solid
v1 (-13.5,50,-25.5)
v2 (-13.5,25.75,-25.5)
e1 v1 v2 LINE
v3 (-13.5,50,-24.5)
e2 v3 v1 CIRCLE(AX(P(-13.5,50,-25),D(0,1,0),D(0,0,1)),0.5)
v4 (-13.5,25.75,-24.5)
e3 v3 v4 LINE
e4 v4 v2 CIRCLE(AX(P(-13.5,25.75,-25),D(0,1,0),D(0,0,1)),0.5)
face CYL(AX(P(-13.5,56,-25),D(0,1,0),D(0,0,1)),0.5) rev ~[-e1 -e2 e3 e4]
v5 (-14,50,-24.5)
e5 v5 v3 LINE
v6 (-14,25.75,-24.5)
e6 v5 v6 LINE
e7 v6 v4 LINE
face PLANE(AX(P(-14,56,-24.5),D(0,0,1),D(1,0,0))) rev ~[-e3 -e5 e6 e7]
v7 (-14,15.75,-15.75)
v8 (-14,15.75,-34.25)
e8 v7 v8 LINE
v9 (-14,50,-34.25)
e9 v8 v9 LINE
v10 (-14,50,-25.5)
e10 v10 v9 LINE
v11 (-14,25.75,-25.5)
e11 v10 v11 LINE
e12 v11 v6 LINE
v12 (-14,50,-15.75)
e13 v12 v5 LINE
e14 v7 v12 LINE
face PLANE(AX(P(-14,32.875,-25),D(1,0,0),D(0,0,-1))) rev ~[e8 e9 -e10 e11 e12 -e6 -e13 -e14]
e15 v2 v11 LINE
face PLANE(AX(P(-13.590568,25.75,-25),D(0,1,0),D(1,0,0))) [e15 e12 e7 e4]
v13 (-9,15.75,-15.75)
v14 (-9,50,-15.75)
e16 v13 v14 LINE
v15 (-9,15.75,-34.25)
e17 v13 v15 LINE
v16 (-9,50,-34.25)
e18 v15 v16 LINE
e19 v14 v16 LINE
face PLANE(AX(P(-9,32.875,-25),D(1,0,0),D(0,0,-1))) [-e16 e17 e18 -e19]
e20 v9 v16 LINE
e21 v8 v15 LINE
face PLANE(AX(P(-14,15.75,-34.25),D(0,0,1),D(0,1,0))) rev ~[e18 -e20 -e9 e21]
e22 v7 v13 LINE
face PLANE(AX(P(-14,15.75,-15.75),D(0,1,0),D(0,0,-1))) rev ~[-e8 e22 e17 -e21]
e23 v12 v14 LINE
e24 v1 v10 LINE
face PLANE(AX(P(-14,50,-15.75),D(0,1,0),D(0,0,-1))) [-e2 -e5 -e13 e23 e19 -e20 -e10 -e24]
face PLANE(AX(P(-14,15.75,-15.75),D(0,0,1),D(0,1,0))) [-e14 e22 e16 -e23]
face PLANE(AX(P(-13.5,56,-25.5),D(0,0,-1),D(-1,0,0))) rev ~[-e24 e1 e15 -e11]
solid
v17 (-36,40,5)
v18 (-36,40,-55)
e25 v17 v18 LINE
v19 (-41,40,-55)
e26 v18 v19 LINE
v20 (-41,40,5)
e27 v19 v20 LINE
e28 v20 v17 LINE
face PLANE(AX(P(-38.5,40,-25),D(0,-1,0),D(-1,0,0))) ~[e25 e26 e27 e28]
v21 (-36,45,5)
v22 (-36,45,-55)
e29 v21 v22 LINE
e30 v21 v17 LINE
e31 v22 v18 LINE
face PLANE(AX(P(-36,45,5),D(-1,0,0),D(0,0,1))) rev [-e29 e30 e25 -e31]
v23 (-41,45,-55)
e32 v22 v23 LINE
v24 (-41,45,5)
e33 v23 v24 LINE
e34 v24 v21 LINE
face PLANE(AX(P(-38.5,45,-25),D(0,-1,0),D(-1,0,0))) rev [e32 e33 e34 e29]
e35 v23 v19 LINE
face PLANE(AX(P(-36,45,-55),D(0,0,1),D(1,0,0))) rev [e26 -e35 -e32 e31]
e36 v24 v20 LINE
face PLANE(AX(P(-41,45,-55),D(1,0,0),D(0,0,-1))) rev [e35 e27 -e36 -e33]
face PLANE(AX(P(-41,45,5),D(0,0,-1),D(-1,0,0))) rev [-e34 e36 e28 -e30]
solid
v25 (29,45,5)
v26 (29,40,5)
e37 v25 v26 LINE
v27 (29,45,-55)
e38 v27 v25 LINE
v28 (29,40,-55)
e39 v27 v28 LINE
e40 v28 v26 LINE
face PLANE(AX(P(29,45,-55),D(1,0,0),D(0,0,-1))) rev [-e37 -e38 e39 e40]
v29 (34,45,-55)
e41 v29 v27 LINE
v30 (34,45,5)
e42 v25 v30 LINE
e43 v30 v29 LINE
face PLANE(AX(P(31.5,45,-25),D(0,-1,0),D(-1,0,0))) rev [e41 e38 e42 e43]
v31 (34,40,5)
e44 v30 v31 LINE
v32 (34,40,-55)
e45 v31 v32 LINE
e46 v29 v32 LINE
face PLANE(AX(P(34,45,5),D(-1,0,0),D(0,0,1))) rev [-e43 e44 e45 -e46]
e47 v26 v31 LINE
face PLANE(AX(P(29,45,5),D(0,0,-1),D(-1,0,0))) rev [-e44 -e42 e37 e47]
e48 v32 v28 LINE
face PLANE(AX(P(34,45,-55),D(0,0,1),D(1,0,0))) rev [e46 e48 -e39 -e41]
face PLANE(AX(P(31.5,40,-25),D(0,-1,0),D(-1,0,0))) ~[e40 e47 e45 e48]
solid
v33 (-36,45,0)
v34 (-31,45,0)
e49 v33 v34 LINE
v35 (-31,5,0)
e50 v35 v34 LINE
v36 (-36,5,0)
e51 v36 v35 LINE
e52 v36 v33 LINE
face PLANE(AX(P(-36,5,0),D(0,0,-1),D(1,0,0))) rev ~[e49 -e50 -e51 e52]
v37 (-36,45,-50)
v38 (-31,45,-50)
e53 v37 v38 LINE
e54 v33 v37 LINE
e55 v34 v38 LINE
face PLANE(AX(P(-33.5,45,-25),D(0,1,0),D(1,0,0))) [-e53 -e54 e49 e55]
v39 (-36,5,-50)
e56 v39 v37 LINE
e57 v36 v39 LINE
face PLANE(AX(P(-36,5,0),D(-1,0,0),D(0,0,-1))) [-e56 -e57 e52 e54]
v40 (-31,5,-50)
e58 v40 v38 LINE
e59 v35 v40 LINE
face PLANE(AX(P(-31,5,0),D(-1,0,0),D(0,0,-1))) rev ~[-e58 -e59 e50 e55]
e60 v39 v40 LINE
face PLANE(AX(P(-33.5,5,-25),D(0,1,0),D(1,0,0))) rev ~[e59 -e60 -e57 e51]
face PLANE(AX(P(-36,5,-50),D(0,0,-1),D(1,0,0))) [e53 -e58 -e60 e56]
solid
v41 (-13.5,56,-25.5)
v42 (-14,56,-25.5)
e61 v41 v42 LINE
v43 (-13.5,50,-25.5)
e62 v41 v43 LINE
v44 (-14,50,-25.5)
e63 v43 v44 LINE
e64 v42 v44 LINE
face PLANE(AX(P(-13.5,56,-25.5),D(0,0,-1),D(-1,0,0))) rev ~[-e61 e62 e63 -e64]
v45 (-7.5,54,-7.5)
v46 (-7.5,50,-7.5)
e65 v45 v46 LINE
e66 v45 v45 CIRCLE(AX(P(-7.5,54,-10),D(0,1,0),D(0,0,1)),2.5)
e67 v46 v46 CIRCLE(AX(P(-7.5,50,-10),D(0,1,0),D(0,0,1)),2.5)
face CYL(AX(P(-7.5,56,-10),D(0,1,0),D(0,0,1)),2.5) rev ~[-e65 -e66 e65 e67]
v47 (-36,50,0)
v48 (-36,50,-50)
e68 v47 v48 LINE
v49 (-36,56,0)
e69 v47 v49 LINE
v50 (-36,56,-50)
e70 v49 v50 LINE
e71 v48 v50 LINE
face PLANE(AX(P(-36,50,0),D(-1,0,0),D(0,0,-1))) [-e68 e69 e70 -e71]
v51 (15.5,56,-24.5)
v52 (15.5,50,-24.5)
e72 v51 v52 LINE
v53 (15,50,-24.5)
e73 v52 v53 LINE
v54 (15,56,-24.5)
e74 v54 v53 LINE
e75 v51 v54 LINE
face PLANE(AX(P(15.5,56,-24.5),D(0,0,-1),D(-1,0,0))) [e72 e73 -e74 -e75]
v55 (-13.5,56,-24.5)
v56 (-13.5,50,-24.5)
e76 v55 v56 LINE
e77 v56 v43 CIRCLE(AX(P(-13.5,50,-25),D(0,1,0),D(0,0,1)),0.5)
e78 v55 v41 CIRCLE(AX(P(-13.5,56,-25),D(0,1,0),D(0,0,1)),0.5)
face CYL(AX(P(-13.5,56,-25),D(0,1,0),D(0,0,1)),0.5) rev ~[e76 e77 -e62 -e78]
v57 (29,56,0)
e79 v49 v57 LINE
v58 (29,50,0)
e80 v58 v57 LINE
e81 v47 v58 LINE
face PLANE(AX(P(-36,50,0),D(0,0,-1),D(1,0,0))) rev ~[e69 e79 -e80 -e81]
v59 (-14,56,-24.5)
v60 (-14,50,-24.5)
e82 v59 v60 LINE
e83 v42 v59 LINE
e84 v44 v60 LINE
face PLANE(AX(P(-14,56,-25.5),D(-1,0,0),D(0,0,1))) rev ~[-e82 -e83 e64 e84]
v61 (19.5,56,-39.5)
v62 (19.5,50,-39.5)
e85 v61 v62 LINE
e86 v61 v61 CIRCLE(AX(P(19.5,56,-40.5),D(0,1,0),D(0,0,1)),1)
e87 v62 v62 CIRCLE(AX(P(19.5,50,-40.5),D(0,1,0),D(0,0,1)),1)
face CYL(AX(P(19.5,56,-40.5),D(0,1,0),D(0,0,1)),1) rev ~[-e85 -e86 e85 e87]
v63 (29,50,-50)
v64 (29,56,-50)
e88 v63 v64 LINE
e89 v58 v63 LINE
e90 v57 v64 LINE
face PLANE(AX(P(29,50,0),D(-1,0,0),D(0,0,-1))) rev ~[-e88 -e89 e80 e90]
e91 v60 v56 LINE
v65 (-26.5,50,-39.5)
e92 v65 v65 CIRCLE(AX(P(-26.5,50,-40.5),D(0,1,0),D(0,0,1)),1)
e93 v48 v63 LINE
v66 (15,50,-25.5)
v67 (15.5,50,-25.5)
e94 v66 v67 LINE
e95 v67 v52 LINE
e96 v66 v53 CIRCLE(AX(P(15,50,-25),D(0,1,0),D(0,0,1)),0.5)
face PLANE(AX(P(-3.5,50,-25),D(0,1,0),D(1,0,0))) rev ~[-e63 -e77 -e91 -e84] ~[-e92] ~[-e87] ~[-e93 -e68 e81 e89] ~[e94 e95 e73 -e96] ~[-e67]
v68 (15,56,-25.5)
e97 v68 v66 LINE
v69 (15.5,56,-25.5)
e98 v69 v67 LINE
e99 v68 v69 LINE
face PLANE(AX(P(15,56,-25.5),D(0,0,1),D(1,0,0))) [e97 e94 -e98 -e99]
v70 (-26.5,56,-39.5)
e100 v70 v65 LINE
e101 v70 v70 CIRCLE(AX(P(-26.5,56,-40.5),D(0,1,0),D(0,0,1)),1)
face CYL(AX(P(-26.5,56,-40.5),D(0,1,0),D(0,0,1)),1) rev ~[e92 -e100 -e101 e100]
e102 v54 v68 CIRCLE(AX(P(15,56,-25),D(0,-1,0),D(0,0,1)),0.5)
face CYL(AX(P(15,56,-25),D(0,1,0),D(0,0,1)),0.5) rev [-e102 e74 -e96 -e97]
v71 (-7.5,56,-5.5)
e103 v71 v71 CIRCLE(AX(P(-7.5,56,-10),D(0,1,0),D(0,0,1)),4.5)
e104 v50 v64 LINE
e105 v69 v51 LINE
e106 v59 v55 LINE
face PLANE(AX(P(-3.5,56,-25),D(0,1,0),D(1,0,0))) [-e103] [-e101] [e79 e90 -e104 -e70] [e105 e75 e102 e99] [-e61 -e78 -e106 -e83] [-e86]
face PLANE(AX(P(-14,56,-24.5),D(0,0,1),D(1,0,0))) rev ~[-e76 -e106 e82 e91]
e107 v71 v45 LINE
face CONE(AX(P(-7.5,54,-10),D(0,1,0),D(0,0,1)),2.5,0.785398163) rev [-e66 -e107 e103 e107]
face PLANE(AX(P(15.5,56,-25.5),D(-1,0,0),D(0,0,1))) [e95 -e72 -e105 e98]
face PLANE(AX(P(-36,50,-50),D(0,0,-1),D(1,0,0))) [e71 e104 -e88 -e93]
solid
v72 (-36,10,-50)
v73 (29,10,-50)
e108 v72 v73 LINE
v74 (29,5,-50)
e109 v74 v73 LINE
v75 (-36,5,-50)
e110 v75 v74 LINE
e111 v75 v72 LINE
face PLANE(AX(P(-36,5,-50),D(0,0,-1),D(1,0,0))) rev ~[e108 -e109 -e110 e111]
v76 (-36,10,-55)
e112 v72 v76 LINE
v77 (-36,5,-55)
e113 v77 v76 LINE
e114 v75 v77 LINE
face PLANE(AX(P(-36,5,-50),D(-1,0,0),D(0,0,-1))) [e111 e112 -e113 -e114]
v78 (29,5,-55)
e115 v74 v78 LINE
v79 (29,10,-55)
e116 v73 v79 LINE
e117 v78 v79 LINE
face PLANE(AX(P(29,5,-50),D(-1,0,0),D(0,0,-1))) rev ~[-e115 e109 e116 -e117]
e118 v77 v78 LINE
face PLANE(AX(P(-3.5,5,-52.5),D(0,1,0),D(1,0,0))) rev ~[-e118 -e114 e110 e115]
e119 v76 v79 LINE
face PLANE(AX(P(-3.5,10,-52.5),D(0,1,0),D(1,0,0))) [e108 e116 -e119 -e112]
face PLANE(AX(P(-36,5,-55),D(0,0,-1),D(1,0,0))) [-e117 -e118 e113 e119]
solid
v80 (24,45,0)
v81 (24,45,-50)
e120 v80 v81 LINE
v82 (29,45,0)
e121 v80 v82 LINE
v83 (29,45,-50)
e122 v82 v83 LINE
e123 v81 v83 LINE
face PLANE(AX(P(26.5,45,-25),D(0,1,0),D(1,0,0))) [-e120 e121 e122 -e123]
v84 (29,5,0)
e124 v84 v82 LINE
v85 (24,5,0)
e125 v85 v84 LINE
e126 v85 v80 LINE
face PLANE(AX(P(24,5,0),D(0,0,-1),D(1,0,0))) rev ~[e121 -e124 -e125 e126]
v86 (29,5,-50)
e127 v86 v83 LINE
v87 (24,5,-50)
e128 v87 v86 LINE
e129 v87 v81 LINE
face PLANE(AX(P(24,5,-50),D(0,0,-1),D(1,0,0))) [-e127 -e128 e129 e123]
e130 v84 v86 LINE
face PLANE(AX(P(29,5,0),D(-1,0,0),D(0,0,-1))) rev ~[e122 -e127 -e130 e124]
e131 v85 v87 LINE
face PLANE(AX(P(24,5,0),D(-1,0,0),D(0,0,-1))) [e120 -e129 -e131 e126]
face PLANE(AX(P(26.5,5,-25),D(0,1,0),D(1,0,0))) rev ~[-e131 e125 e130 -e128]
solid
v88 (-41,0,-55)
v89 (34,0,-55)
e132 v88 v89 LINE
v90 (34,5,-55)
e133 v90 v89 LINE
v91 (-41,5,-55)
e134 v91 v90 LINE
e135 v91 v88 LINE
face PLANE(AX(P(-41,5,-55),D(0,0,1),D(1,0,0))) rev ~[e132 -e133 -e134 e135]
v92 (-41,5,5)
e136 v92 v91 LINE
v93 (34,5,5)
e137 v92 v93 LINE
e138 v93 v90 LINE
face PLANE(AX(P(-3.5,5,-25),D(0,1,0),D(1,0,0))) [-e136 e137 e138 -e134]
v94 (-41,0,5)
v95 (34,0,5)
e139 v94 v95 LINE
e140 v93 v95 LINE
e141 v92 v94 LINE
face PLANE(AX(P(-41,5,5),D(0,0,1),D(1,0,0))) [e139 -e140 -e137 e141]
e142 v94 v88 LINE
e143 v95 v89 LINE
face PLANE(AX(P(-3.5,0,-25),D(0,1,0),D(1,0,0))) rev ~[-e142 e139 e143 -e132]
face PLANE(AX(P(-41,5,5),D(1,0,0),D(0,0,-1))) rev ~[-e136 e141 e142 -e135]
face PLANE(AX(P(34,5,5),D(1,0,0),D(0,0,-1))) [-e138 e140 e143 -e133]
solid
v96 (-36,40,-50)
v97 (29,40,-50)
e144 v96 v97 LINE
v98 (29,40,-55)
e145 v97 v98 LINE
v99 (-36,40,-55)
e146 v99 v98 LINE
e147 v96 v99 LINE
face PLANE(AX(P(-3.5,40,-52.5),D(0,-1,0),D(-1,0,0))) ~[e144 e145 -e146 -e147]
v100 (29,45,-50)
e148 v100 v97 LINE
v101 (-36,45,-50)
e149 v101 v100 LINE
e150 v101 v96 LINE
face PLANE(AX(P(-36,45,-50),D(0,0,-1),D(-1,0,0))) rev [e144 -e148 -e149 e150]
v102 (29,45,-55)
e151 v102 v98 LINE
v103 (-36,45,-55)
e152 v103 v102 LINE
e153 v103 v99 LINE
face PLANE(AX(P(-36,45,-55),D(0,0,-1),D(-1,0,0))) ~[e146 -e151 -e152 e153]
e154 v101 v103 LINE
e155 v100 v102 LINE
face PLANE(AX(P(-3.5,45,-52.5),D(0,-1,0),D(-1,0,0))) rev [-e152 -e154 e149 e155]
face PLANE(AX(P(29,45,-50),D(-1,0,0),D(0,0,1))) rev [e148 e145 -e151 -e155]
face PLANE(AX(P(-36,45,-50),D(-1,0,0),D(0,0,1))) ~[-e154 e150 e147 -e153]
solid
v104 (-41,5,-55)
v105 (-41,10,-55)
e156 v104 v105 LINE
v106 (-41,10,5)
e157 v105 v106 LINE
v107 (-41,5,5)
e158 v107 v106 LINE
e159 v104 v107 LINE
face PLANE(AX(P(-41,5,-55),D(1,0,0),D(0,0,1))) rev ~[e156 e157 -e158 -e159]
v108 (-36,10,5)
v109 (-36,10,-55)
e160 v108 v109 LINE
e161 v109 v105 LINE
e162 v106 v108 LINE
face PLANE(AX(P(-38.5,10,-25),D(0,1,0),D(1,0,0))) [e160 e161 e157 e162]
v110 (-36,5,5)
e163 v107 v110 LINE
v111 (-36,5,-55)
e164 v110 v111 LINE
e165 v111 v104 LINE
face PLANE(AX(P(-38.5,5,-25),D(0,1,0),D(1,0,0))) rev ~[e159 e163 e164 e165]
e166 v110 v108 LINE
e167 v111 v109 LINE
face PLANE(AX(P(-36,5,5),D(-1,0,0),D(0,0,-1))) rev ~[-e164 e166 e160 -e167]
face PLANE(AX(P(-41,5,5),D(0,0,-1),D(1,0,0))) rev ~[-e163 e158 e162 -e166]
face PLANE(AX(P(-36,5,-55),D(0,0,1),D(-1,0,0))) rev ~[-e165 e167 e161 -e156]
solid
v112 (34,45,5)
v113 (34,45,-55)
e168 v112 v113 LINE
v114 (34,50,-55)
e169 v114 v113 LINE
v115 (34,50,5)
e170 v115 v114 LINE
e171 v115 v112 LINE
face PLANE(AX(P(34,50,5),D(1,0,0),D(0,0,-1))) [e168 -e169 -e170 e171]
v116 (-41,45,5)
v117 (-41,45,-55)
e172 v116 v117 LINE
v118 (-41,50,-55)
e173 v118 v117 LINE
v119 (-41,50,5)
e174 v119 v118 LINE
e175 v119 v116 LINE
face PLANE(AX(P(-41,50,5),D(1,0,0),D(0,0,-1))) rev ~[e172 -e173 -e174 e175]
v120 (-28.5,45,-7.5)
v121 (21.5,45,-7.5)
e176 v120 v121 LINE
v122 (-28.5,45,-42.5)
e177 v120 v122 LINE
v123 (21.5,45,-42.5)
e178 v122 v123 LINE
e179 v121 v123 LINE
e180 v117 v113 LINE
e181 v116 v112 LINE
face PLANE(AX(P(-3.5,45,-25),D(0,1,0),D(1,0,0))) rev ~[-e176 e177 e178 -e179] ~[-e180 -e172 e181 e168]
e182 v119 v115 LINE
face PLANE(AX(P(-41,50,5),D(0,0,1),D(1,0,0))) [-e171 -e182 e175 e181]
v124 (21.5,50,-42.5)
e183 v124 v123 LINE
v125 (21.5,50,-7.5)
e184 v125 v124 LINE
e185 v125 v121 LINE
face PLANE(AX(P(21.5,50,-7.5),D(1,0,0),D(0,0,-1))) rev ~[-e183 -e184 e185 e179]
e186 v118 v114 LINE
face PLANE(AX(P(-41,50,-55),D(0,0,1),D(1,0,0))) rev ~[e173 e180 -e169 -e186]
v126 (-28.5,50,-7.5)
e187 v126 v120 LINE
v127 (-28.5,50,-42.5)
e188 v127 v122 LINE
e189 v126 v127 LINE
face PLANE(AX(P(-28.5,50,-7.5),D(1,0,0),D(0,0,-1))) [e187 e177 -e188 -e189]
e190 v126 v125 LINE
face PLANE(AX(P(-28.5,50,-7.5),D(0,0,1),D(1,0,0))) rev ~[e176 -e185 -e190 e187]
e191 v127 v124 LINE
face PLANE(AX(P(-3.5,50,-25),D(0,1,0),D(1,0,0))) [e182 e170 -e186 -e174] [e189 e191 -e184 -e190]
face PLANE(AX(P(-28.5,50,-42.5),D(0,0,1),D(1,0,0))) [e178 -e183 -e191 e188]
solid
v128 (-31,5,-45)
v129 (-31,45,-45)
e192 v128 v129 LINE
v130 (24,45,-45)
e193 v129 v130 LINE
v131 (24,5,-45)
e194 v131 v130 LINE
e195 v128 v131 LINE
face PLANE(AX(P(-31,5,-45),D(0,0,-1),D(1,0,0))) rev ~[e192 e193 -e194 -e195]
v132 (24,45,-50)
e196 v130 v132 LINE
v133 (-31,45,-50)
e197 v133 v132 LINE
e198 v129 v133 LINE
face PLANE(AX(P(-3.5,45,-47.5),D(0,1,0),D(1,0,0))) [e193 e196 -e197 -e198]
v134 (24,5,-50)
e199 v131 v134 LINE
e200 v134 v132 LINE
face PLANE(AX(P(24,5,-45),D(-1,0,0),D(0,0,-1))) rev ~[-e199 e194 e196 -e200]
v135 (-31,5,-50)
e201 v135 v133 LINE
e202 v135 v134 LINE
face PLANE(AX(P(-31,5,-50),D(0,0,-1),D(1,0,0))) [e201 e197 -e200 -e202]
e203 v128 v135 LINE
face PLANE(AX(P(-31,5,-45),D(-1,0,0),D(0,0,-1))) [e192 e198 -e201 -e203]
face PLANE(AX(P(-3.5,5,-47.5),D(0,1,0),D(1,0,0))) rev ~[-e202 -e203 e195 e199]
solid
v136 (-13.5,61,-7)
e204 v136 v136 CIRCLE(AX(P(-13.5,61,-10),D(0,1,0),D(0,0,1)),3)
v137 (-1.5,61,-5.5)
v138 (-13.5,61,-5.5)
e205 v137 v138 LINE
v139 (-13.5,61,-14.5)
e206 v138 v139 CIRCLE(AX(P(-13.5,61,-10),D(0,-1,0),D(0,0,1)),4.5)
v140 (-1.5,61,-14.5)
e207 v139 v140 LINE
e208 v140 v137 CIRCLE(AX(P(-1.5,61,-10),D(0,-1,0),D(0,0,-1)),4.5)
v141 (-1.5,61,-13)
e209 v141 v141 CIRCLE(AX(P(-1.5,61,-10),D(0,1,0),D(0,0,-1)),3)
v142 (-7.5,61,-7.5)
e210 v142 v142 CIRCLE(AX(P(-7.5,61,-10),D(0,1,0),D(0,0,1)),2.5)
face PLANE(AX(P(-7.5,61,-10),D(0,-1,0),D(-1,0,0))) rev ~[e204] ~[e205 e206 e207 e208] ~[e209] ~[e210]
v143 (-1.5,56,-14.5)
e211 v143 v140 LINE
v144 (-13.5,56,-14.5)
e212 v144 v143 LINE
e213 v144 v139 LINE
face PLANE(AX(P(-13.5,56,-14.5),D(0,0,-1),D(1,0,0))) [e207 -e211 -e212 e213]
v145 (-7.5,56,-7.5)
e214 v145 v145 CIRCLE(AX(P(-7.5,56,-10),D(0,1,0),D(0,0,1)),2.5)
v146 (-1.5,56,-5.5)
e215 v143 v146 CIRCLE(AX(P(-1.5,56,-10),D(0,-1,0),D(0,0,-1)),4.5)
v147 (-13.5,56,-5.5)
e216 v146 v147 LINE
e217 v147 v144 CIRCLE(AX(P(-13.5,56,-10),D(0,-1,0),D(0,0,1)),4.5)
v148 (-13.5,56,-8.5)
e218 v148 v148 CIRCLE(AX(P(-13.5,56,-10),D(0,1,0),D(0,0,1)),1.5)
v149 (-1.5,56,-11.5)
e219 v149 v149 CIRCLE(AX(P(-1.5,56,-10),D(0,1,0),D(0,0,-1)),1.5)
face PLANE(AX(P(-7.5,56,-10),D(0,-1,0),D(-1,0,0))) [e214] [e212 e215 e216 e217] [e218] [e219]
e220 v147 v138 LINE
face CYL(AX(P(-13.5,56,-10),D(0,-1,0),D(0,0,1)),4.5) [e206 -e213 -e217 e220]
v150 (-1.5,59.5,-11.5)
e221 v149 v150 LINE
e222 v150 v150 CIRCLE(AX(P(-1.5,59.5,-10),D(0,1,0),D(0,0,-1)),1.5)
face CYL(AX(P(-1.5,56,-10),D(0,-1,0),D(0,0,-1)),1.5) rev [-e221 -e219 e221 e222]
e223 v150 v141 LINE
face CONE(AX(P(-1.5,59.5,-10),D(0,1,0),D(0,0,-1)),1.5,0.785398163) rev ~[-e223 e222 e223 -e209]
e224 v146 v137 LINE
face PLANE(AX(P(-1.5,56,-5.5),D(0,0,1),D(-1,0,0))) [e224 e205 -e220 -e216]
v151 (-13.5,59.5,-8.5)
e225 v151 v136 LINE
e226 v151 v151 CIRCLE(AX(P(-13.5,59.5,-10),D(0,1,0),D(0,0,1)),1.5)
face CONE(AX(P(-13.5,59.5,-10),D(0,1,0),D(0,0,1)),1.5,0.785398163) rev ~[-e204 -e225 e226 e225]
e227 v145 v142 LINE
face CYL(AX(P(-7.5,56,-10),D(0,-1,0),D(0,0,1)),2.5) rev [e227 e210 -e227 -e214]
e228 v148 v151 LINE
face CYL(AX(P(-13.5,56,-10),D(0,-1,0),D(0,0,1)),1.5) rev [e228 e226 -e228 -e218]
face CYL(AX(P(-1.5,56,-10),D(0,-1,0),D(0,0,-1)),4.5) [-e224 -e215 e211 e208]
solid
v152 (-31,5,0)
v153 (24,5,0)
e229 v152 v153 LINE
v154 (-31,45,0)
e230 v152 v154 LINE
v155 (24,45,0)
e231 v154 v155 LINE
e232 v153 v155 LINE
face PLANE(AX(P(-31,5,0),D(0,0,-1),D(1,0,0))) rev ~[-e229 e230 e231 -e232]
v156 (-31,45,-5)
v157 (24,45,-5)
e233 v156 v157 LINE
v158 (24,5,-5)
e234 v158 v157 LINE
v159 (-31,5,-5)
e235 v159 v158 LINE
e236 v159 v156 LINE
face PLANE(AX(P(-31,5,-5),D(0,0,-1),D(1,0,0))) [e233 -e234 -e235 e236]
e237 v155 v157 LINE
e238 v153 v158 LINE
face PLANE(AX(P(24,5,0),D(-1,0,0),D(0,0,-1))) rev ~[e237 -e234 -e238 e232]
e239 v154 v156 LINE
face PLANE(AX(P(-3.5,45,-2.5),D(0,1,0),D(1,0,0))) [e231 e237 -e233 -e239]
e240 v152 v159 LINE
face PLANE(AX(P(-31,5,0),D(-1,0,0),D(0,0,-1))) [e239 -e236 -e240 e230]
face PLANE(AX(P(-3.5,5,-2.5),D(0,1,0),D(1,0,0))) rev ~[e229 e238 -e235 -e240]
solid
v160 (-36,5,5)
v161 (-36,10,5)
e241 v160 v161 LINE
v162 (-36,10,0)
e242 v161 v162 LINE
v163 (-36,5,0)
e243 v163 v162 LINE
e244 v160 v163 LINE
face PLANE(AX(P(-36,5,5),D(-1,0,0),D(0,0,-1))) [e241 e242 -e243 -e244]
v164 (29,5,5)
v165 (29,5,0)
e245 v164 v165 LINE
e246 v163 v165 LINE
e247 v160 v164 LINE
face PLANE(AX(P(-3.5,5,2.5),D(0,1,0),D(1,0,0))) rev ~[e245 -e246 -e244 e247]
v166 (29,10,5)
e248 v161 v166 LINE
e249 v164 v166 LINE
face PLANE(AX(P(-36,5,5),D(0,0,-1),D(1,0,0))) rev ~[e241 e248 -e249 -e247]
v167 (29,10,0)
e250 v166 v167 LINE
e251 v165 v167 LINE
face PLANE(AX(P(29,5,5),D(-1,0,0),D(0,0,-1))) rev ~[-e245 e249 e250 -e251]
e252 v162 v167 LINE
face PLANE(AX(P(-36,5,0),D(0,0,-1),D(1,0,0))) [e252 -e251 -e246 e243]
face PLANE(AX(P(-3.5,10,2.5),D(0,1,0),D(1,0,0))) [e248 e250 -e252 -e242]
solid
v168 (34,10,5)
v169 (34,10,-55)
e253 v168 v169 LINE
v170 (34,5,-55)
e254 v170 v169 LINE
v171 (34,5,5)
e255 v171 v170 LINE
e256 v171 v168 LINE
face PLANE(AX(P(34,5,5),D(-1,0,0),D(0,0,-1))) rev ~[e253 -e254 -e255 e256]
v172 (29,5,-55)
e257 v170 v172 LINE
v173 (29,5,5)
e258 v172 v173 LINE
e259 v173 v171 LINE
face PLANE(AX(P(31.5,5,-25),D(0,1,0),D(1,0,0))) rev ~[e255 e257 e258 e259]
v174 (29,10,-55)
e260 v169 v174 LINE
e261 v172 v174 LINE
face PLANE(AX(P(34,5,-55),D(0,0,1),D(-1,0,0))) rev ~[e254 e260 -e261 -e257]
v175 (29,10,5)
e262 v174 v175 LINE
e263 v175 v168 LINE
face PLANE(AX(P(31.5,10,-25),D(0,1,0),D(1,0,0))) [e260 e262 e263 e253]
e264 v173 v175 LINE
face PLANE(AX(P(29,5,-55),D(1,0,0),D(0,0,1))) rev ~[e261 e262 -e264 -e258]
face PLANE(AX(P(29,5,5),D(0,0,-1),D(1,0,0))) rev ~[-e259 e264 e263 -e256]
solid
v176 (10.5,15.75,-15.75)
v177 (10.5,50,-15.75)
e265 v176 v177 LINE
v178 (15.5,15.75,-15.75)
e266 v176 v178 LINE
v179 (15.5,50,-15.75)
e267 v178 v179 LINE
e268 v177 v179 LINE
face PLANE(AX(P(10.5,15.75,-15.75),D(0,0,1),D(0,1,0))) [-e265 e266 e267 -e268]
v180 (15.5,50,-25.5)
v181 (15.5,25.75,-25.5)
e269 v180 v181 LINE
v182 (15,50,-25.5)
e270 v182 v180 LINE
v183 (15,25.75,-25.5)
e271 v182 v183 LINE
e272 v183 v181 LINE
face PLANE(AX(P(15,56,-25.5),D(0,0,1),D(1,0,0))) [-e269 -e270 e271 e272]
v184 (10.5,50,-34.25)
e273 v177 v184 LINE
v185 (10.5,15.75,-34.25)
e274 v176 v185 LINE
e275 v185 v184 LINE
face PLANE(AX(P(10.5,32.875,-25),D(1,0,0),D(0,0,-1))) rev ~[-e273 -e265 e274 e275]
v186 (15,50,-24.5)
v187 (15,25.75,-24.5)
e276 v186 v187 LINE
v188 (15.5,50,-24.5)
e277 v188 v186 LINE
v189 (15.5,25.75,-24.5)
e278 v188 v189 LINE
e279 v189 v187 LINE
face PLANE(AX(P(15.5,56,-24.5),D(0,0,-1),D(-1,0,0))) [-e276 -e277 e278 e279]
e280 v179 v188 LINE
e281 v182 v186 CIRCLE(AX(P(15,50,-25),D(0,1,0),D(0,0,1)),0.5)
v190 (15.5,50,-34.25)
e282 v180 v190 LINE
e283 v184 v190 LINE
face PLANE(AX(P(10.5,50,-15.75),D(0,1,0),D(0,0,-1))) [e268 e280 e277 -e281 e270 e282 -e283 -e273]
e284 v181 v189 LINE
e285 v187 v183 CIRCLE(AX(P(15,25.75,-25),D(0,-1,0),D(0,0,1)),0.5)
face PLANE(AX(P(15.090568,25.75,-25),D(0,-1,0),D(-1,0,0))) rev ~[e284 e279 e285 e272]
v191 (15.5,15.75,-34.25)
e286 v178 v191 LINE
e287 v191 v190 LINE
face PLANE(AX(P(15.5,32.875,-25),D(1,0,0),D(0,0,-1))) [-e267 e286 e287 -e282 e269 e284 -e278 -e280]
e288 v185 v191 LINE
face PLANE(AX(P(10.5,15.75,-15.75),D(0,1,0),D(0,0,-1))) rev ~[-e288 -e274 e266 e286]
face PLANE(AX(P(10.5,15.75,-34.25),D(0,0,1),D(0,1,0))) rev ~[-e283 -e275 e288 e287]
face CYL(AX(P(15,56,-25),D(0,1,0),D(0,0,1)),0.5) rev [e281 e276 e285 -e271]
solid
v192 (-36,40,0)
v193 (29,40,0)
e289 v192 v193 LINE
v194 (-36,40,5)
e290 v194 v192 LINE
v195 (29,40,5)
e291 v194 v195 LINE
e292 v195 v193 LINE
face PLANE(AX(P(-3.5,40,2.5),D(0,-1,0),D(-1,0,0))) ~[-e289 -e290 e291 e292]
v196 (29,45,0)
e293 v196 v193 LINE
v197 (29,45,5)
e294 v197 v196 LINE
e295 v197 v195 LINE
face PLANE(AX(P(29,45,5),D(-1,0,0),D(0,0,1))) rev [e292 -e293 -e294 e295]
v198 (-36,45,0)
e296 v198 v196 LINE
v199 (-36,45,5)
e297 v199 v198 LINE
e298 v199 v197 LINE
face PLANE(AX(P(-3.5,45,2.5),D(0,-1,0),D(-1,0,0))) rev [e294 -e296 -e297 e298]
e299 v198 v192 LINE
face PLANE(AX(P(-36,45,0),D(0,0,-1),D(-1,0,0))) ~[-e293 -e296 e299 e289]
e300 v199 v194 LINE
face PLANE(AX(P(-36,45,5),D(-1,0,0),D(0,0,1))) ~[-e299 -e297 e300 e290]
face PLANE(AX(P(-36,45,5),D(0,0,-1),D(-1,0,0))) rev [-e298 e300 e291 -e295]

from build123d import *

# Parameters (mm, degrees)
SKETCH1_W              = 65
SKETCH1_H              = 50
BOSS_EXTRUDE1_DEPTH    = 5
SKETCH2_W              = 5
SKETCH2_H              = 50
BOSS_EXTRUDE24_DEPTH   = 40
BOSS_EXTRUDE24_2_DEPTH = 40
SKETCH2_6_W            = 55
SKETCH2_6_H            = 5
BOSS_EXTRUDE25_DEPTH   = 40
BOSS_EXTRUDE25_2_DEPTH = 40
SKETCH3_W              = 65
SKETCH3_H              = 50
BOSS_EXTRUDE4_DEPTH    = 5
SKETCH18_W             = 50
SKETCH18_H             = 35
CUT_EXTRUDE3_DEPTH     = 80.3473377
SKETCH17_W             = 65
SKETCH17_H             = 50
BOSS_EXTRUDE8_DEPTH    = 6
SKETCH6_W              = 18.5
SKETCH6_H              = 34.25
BOSS_EXTRUDE6_DEPTH    = 5
SKETCH7_W              = 18.5
SKETCH7_H              = 34.25
BOSS_EXTRUDE7_DEPTH    = 5
SKETCH19_R             = 1
SKETCH19_R_2           = 2.5
CUT_EXTRUDE4_DEPTH     = 30.25
SKETCH31_R             = 2.5
SKETCH31_R_2           = 1.5
BOSS_EXTRUDE18_DEPTH   = 5
CHAMFER1_SIZE          = 2
CHAMFER2_SIZE          = 1.5
SKETCH42_W             = 75
SKETCH42_H             = 60
SKETCH42_W_2           = 65
SKETCH42_H_2           = 50
BOSS_EXTRUDE22_DEPTH   = 5
SKETCH41_4_W           = 75
SKETCH41_4_H           = 60
BOSS_EXTRUDE23_DEPTH   = 5
BOSS_EXTRUDE20_DEPTH   = 5
BOSS_EXTRUDE20_2_DEPTH = 5
SKETCH41_3_W           = 65
SKETCH41_3_H           = 5
BOSS_EXTRUDE21_DEPTH   = 5
BOSS_EXTRUDE21_2_DEPTH = 5


with BuildPart() as part:
    # Sketch1 → Boss-Extrude1 (new body)
    with BuildSketch(Plane(origin=(0, 0, 0), x_dir=(1, 0, 0), z_dir=(0, 1, 0))):
        with Locations((-3.5, 25)):
            Rectangle(SKETCH1_W, SKETCH1_H)
    extrude(amount=BOSS_EXTRUDE1_DEPTH)

    # Sketch41<4> → Boss-Extrude23 (add)
    with BuildSketch(Plane(origin=(0, 5, 0), x_dir=(1, 0, 0), z_dir=(0, 1, 0))):
        with Locations((-3.5, 25)):
            Rectangle(SKETCH41_4_W, SKETCH41_4_H)
    extrude(amount=-BOSS_EXTRUDE23_DEPTH)


with BuildPart() as body_2:
    # Sketch2 → Boss-Extrude24 (new body)
    with BuildSketch(Plane(origin=(0, 5, 0), x_dir=(1, 0, 0), z_dir=(0, 1, 0))):
        with Locations((-33.5, 25)):
            Rectangle(SKETCH2_W, SKETCH2_H)
    extrude(amount=BOSS_EXTRUDE24_DEPTH)


with BuildPart() as body_3:
    # Sketch2 → Boss-Extrude24 2 (new body)
    with BuildSketch(Plane(origin=(0, 5, 0), x_dir=(1, 0, 0), z_dir=(0, 1, 0))):
        with Locations((26.5, 25)):
            Rectangle(SKETCH2_W, SKETCH2_H)
    extrude(amount=BOSS_EXTRUDE24_2_DEPTH)


with BuildPart() as body_4:
    # Sketch2<6> → Boss-Extrude25 (new body)
    with BuildSketch(Plane(origin=(0, 5, 0), x_dir=(1, 0, 0), z_dir=(0, 1, 0))):
        with Locations((-3.5, 47.5)):
            Rectangle(SKETCH2_6_W, SKETCH2_6_H)
    extrude(amount=BOSS_EXTRUDE25_DEPTH)


with BuildPart() as body_5:
    # Sketch2<6> → Boss-Extrude25 2 (new body)
    with BuildSketch(Plane(origin=(0, 5, 0), x_dir=(1, 0, 0), z_dir=(0, 1, 0))):
        with Locations((-3.5, 2.5)):
            Rectangle(SKETCH2_6_W, SKETCH2_6_H)
    extrude(amount=BOSS_EXTRUDE25_2_DEPTH)


with BuildPart() as body_6:
    # Sketch3 → Boss-Extrude4 (new body)
    with BuildSketch(Plane(origin=(0, 45, 0), x_dir=(1, 0, 0), z_dir=(0, 1, 0))):
        with Locations((-3.5, 25)):
            Rectangle(SKETCH3_W, SKETCH3_H)
    extrude(amount=BOSS_EXTRUDE4_DEPTH)

    # Sketch18 → Cut-Extrude3 (cut, through all)
    with BuildSketch(Plane(origin=(0, 50, 0), x_dir=(1, 0, 0), z_dir=(0, 1, 0))):
        with Locations((-3.5, 25)):
            Rectangle(SKETCH18_W, SKETCH18_H)
    extrude(amount=-CUT_EXTRUDE3_DEPTH, mode=Mode.SUBTRACT)

    # Sketch42 → Boss-Extrude22 (add)
    with BuildSketch(Plane(origin=(0, 50, 0), x_dir=(1, 0, 0), z_dir=(0, 1, 0))):
        with Locations((-3.5, 25)):
            Rectangle(SKETCH42_W, SKETCH42_H)
        with Locations((-3.5, 25)):
            Rectangle(SKETCH42_W_2, SKETCH42_H_2, mode=Mode.SUBTRACT)
    extrude(amount=-BOSS_EXTRUDE22_DEPTH)


with BuildPart() as body_7:
    # Sketch17 → Boss-Extrude8 (new body)
    with BuildSketch(Plane(origin=(0, 50, 0), x_dir=(1, 0, 0), z_dir=(0, 1, 0))):
        with Locations((-3.5, 25)):
            Rectangle(SKETCH17_W, SKETCH17_H)
    extrude(amount=BOSS_EXTRUDE8_DEPTH)


with BuildPart() as body_8:
    # Sketch6 → Boss-Extrude6 (new body)
    with BuildSketch(Plane(origin=(-14, 0, 0), x_dir=(0, 0, -1), z_dir=(1, 0, 0))):
        with Locations((25, 32.875)):
            Rectangle(SKETCH6_W, SKETCH6_H)
    extrude(amount=BOSS_EXTRUDE6_DEPTH)


with BuildPart() as body_9:
    # Sketch7 → Boss-Extrude7 (new body)
    with BuildSketch(Plane(origin=(10.5, 0, 0), x_dir=(0, 0, -1), z_dir=(1, 0, 0))):
        with Locations((25, 32.875)):
            Rectangle(SKETCH7_W, SKETCH7_H)
    extrude(amount=BOSS_EXTRUDE7_DEPTH)


with BuildPart() as cut_extrude4_tool:
    # Sketch19 → Cut-Extrude4 (new body)
    with BuildSketch(Plane(origin=(0, 56, 0), x_dir=(1, 0, 0), z_dir=(0, 1, 0))):
        with Locations(Location((-26.5, 40.5, 0), (0, 0, 270))):
            Circle(SKETCH19_R)
        with BuildLine():
            Line((-14, 24.5), (-13.5, 24.5))
            ThreePointArc((-13.5, 24.5), (-13, 25), (-13.5, 25.5))
            Line((-13.5, 25.5), (-14, 25.5))
            Line((-14, 25.5), (-14, 24.5))
        make_face()
        with Locations(Location((-7.5, 10, 0), (0, 0, 270))):
            Circle(SKETCH19_R_2)
        with Locations(Location((19.5, 40.5, 0), (0, 0, 270))):
            Circle(SKETCH19_R)
        with BuildLine():
            ThreePointArc((15, 24.5), (14.5, 25), (15, 25.5))
            Line((15, 25.5), (15.5, 25.5))
            Line((15.5, 25.5), (15.5, 24.5))
            Line((15.5, 24.5), (15, 24.5))
        make_face()
    extrude(amount=-CUT_EXTRUDE4_DEPTH)


with BuildPart() as body_7_1:
    add(body_7.part)

    # Cut-Extrude4: cut by cut_extrude4_tool
    add(cut_extrude4_tool.part, mode=Mode.SUBTRACT)

    # Chamfer1
    chamfer1_edges = [body_7_1.edges().sort_by_distance(p)[0] for p in [
        (-7.5, 56, -12.5),
    ]]
    chamfer(chamfer1_edges, length=CHAMFER1_SIZE)


with BuildPart() as body_8_1:
    add(body_8.part)

    # Cut-Extrude4: cut by cut_extrude4_tool
    add(cut_extrude4_tool.part, mode=Mode.SUBTRACT)


with BuildPart() as body_9_1:
    add(body_9.part)

    # Cut-Extrude4: cut by cut_extrude4_tool
    add(cut_extrude4_tool.part, mode=Mode.SUBTRACT)


with BuildPart() as body_10:
    # Sketch31 → Boss-Extrude18 (new body)
    with BuildSketch(Plane(origin=(0, 56, 0), x_dir=(1, 0, 0), z_dir=(0, 1, 0))):
        with BuildLine():
            Line((-1.5, 5.5), (-13.5, 5.5))
            ThreePointArc((-13.5, 5.5), (-18, 10), (-13.5, 14.5))
            Line((-13.5, 14.5), (-1.5, 14.5))
            ThreePointArc((-1.5, 14.5), (3, 10), (-1.5, 5.5))
        make_face()
        with Locations(Location((-7.5, 10, 0), (0, 0, 270))):
            Circle(SKETCH31_R, mode=Mode.SUBTRACT)
        with Locations(Location((-13.5, 10, 0), (0, 0, 270))):
            Circle(SKETCH31_R_2, mode=Mode.SUBTRACT)
        with Locations(Location((-1.5, 10, 0), (0, 0, 90))):
            Circle(SKETCH31_R_2, mode=Mode.SUBTRACT)
    extrude(amount=BOSS_EXTRUDE18_DEPTH)

    # Chamfer2
    chamfer2_edges = [body_10.edges().sort_by_distance(p)[0] for p in [
        (-13.5, 61, -11.5),
        (-1.5, 61, -8.5),
    ]]
    chamfer(chamfer2_edges, length=CHAMFER2_SIZE)


with BuildPart() as body_11:
    # Sketch41 → Boss-Extrude20 (new body)
    with BuildSketch(Plane(origin=(0, 5, 0), x_dir=(1, 0, 0), z_dir=(0, 1, 0))):
        Polygon((-36, -5), (-36, 0), (-36, 50), (-36, 55), (-41, 55), (-41, -5), align=None)
    extrude(amount=BOSS_EXTRUDE20_DEPTH)


with BuildPart() as body_12:
    # Sketch41 → Boss-Extrude20 2 (new body)
    with BuildSketch(Plane(origin=(0, 5, 0), x_dir=(1, 0, 0), z_dir=(0, 1, 0))):
        Polygon((29, 50), (29, 0), (29, -5), (34, -5), (34, 55), (29, 55), align=None)
    extrude(amount=BOSS_EXTRUDE20_2_DEPTH)


with BuildPart() as body_13:
    # Sketch41<3> → Boss-Extrude21 (new body)
    with BuildSketch(Plane(origin=(0, 5, 0), x_dir=(1, 0, 0), z_dir=(0, 1, 0))):
        with Locations((-3.5, 52.5)):
            Rectangle(SKETCH41_3_W, SKETCH41_3_H)
    extrude(amount=BOSS_EXTRUDE21_DEPTH)


with BuildPart() as body_14:
    # Sketch41<3> → Boss-Extrude21 2 (new body)
    with BuildSketch(Plane(origin=(0, 5, 0), x_dir=(1, 0, 0), z_dir=(0, 1, 0))):
        with Locations((-3.5, -2.5)):
            Rectangle(SKETCH41_3_W, SKETCH41_3_H)
    extrude(amount=BOSS_EXTRUDE21_2_DEPTH)


with BuildPart() as body_15:
    # Mirror1: mirrored copy
    add(body_13.part.mirror(Plane(origin=(0, 25, 0), x_dir=(0, 0, 1), z_dir=(0, -1, 0))))


with BuildPart() as body_16:
    # Mirror1 2: mirrored copy
    add(body_12.part.mirror(Plane(origin=(0, 25, 0), x_dir=(0, 0, 1), z_dir=(0, -1, 0))))


with BuildPart() as body_17:
    # Mirror1 3: mirrored copy
    add(body_11.part.mirror(Plane(origin=(0, 25, 0), x_dir=(0, 0, 1), z_dir=(0, -1, 0))))


with BuildPart() as body_18:
    # Mirror1 4: mirrored copy
    add(body_14.part.mirror(Plane(origin=(0, 25, 0), x_dir=(0, 0, 1), z_dir=(0, -1, 0))))


solid = Compound([part.part, body_2.part, body_3.part, body_4.part, body_5.part, body_6.part, body_7_1.part, body_8_1.part, body_9_1.part, body_10.part, body_11.part, body_12.part, body_13.part, body_14.part, body_15.part, body_16.part, body_17.part, body_18.part])
